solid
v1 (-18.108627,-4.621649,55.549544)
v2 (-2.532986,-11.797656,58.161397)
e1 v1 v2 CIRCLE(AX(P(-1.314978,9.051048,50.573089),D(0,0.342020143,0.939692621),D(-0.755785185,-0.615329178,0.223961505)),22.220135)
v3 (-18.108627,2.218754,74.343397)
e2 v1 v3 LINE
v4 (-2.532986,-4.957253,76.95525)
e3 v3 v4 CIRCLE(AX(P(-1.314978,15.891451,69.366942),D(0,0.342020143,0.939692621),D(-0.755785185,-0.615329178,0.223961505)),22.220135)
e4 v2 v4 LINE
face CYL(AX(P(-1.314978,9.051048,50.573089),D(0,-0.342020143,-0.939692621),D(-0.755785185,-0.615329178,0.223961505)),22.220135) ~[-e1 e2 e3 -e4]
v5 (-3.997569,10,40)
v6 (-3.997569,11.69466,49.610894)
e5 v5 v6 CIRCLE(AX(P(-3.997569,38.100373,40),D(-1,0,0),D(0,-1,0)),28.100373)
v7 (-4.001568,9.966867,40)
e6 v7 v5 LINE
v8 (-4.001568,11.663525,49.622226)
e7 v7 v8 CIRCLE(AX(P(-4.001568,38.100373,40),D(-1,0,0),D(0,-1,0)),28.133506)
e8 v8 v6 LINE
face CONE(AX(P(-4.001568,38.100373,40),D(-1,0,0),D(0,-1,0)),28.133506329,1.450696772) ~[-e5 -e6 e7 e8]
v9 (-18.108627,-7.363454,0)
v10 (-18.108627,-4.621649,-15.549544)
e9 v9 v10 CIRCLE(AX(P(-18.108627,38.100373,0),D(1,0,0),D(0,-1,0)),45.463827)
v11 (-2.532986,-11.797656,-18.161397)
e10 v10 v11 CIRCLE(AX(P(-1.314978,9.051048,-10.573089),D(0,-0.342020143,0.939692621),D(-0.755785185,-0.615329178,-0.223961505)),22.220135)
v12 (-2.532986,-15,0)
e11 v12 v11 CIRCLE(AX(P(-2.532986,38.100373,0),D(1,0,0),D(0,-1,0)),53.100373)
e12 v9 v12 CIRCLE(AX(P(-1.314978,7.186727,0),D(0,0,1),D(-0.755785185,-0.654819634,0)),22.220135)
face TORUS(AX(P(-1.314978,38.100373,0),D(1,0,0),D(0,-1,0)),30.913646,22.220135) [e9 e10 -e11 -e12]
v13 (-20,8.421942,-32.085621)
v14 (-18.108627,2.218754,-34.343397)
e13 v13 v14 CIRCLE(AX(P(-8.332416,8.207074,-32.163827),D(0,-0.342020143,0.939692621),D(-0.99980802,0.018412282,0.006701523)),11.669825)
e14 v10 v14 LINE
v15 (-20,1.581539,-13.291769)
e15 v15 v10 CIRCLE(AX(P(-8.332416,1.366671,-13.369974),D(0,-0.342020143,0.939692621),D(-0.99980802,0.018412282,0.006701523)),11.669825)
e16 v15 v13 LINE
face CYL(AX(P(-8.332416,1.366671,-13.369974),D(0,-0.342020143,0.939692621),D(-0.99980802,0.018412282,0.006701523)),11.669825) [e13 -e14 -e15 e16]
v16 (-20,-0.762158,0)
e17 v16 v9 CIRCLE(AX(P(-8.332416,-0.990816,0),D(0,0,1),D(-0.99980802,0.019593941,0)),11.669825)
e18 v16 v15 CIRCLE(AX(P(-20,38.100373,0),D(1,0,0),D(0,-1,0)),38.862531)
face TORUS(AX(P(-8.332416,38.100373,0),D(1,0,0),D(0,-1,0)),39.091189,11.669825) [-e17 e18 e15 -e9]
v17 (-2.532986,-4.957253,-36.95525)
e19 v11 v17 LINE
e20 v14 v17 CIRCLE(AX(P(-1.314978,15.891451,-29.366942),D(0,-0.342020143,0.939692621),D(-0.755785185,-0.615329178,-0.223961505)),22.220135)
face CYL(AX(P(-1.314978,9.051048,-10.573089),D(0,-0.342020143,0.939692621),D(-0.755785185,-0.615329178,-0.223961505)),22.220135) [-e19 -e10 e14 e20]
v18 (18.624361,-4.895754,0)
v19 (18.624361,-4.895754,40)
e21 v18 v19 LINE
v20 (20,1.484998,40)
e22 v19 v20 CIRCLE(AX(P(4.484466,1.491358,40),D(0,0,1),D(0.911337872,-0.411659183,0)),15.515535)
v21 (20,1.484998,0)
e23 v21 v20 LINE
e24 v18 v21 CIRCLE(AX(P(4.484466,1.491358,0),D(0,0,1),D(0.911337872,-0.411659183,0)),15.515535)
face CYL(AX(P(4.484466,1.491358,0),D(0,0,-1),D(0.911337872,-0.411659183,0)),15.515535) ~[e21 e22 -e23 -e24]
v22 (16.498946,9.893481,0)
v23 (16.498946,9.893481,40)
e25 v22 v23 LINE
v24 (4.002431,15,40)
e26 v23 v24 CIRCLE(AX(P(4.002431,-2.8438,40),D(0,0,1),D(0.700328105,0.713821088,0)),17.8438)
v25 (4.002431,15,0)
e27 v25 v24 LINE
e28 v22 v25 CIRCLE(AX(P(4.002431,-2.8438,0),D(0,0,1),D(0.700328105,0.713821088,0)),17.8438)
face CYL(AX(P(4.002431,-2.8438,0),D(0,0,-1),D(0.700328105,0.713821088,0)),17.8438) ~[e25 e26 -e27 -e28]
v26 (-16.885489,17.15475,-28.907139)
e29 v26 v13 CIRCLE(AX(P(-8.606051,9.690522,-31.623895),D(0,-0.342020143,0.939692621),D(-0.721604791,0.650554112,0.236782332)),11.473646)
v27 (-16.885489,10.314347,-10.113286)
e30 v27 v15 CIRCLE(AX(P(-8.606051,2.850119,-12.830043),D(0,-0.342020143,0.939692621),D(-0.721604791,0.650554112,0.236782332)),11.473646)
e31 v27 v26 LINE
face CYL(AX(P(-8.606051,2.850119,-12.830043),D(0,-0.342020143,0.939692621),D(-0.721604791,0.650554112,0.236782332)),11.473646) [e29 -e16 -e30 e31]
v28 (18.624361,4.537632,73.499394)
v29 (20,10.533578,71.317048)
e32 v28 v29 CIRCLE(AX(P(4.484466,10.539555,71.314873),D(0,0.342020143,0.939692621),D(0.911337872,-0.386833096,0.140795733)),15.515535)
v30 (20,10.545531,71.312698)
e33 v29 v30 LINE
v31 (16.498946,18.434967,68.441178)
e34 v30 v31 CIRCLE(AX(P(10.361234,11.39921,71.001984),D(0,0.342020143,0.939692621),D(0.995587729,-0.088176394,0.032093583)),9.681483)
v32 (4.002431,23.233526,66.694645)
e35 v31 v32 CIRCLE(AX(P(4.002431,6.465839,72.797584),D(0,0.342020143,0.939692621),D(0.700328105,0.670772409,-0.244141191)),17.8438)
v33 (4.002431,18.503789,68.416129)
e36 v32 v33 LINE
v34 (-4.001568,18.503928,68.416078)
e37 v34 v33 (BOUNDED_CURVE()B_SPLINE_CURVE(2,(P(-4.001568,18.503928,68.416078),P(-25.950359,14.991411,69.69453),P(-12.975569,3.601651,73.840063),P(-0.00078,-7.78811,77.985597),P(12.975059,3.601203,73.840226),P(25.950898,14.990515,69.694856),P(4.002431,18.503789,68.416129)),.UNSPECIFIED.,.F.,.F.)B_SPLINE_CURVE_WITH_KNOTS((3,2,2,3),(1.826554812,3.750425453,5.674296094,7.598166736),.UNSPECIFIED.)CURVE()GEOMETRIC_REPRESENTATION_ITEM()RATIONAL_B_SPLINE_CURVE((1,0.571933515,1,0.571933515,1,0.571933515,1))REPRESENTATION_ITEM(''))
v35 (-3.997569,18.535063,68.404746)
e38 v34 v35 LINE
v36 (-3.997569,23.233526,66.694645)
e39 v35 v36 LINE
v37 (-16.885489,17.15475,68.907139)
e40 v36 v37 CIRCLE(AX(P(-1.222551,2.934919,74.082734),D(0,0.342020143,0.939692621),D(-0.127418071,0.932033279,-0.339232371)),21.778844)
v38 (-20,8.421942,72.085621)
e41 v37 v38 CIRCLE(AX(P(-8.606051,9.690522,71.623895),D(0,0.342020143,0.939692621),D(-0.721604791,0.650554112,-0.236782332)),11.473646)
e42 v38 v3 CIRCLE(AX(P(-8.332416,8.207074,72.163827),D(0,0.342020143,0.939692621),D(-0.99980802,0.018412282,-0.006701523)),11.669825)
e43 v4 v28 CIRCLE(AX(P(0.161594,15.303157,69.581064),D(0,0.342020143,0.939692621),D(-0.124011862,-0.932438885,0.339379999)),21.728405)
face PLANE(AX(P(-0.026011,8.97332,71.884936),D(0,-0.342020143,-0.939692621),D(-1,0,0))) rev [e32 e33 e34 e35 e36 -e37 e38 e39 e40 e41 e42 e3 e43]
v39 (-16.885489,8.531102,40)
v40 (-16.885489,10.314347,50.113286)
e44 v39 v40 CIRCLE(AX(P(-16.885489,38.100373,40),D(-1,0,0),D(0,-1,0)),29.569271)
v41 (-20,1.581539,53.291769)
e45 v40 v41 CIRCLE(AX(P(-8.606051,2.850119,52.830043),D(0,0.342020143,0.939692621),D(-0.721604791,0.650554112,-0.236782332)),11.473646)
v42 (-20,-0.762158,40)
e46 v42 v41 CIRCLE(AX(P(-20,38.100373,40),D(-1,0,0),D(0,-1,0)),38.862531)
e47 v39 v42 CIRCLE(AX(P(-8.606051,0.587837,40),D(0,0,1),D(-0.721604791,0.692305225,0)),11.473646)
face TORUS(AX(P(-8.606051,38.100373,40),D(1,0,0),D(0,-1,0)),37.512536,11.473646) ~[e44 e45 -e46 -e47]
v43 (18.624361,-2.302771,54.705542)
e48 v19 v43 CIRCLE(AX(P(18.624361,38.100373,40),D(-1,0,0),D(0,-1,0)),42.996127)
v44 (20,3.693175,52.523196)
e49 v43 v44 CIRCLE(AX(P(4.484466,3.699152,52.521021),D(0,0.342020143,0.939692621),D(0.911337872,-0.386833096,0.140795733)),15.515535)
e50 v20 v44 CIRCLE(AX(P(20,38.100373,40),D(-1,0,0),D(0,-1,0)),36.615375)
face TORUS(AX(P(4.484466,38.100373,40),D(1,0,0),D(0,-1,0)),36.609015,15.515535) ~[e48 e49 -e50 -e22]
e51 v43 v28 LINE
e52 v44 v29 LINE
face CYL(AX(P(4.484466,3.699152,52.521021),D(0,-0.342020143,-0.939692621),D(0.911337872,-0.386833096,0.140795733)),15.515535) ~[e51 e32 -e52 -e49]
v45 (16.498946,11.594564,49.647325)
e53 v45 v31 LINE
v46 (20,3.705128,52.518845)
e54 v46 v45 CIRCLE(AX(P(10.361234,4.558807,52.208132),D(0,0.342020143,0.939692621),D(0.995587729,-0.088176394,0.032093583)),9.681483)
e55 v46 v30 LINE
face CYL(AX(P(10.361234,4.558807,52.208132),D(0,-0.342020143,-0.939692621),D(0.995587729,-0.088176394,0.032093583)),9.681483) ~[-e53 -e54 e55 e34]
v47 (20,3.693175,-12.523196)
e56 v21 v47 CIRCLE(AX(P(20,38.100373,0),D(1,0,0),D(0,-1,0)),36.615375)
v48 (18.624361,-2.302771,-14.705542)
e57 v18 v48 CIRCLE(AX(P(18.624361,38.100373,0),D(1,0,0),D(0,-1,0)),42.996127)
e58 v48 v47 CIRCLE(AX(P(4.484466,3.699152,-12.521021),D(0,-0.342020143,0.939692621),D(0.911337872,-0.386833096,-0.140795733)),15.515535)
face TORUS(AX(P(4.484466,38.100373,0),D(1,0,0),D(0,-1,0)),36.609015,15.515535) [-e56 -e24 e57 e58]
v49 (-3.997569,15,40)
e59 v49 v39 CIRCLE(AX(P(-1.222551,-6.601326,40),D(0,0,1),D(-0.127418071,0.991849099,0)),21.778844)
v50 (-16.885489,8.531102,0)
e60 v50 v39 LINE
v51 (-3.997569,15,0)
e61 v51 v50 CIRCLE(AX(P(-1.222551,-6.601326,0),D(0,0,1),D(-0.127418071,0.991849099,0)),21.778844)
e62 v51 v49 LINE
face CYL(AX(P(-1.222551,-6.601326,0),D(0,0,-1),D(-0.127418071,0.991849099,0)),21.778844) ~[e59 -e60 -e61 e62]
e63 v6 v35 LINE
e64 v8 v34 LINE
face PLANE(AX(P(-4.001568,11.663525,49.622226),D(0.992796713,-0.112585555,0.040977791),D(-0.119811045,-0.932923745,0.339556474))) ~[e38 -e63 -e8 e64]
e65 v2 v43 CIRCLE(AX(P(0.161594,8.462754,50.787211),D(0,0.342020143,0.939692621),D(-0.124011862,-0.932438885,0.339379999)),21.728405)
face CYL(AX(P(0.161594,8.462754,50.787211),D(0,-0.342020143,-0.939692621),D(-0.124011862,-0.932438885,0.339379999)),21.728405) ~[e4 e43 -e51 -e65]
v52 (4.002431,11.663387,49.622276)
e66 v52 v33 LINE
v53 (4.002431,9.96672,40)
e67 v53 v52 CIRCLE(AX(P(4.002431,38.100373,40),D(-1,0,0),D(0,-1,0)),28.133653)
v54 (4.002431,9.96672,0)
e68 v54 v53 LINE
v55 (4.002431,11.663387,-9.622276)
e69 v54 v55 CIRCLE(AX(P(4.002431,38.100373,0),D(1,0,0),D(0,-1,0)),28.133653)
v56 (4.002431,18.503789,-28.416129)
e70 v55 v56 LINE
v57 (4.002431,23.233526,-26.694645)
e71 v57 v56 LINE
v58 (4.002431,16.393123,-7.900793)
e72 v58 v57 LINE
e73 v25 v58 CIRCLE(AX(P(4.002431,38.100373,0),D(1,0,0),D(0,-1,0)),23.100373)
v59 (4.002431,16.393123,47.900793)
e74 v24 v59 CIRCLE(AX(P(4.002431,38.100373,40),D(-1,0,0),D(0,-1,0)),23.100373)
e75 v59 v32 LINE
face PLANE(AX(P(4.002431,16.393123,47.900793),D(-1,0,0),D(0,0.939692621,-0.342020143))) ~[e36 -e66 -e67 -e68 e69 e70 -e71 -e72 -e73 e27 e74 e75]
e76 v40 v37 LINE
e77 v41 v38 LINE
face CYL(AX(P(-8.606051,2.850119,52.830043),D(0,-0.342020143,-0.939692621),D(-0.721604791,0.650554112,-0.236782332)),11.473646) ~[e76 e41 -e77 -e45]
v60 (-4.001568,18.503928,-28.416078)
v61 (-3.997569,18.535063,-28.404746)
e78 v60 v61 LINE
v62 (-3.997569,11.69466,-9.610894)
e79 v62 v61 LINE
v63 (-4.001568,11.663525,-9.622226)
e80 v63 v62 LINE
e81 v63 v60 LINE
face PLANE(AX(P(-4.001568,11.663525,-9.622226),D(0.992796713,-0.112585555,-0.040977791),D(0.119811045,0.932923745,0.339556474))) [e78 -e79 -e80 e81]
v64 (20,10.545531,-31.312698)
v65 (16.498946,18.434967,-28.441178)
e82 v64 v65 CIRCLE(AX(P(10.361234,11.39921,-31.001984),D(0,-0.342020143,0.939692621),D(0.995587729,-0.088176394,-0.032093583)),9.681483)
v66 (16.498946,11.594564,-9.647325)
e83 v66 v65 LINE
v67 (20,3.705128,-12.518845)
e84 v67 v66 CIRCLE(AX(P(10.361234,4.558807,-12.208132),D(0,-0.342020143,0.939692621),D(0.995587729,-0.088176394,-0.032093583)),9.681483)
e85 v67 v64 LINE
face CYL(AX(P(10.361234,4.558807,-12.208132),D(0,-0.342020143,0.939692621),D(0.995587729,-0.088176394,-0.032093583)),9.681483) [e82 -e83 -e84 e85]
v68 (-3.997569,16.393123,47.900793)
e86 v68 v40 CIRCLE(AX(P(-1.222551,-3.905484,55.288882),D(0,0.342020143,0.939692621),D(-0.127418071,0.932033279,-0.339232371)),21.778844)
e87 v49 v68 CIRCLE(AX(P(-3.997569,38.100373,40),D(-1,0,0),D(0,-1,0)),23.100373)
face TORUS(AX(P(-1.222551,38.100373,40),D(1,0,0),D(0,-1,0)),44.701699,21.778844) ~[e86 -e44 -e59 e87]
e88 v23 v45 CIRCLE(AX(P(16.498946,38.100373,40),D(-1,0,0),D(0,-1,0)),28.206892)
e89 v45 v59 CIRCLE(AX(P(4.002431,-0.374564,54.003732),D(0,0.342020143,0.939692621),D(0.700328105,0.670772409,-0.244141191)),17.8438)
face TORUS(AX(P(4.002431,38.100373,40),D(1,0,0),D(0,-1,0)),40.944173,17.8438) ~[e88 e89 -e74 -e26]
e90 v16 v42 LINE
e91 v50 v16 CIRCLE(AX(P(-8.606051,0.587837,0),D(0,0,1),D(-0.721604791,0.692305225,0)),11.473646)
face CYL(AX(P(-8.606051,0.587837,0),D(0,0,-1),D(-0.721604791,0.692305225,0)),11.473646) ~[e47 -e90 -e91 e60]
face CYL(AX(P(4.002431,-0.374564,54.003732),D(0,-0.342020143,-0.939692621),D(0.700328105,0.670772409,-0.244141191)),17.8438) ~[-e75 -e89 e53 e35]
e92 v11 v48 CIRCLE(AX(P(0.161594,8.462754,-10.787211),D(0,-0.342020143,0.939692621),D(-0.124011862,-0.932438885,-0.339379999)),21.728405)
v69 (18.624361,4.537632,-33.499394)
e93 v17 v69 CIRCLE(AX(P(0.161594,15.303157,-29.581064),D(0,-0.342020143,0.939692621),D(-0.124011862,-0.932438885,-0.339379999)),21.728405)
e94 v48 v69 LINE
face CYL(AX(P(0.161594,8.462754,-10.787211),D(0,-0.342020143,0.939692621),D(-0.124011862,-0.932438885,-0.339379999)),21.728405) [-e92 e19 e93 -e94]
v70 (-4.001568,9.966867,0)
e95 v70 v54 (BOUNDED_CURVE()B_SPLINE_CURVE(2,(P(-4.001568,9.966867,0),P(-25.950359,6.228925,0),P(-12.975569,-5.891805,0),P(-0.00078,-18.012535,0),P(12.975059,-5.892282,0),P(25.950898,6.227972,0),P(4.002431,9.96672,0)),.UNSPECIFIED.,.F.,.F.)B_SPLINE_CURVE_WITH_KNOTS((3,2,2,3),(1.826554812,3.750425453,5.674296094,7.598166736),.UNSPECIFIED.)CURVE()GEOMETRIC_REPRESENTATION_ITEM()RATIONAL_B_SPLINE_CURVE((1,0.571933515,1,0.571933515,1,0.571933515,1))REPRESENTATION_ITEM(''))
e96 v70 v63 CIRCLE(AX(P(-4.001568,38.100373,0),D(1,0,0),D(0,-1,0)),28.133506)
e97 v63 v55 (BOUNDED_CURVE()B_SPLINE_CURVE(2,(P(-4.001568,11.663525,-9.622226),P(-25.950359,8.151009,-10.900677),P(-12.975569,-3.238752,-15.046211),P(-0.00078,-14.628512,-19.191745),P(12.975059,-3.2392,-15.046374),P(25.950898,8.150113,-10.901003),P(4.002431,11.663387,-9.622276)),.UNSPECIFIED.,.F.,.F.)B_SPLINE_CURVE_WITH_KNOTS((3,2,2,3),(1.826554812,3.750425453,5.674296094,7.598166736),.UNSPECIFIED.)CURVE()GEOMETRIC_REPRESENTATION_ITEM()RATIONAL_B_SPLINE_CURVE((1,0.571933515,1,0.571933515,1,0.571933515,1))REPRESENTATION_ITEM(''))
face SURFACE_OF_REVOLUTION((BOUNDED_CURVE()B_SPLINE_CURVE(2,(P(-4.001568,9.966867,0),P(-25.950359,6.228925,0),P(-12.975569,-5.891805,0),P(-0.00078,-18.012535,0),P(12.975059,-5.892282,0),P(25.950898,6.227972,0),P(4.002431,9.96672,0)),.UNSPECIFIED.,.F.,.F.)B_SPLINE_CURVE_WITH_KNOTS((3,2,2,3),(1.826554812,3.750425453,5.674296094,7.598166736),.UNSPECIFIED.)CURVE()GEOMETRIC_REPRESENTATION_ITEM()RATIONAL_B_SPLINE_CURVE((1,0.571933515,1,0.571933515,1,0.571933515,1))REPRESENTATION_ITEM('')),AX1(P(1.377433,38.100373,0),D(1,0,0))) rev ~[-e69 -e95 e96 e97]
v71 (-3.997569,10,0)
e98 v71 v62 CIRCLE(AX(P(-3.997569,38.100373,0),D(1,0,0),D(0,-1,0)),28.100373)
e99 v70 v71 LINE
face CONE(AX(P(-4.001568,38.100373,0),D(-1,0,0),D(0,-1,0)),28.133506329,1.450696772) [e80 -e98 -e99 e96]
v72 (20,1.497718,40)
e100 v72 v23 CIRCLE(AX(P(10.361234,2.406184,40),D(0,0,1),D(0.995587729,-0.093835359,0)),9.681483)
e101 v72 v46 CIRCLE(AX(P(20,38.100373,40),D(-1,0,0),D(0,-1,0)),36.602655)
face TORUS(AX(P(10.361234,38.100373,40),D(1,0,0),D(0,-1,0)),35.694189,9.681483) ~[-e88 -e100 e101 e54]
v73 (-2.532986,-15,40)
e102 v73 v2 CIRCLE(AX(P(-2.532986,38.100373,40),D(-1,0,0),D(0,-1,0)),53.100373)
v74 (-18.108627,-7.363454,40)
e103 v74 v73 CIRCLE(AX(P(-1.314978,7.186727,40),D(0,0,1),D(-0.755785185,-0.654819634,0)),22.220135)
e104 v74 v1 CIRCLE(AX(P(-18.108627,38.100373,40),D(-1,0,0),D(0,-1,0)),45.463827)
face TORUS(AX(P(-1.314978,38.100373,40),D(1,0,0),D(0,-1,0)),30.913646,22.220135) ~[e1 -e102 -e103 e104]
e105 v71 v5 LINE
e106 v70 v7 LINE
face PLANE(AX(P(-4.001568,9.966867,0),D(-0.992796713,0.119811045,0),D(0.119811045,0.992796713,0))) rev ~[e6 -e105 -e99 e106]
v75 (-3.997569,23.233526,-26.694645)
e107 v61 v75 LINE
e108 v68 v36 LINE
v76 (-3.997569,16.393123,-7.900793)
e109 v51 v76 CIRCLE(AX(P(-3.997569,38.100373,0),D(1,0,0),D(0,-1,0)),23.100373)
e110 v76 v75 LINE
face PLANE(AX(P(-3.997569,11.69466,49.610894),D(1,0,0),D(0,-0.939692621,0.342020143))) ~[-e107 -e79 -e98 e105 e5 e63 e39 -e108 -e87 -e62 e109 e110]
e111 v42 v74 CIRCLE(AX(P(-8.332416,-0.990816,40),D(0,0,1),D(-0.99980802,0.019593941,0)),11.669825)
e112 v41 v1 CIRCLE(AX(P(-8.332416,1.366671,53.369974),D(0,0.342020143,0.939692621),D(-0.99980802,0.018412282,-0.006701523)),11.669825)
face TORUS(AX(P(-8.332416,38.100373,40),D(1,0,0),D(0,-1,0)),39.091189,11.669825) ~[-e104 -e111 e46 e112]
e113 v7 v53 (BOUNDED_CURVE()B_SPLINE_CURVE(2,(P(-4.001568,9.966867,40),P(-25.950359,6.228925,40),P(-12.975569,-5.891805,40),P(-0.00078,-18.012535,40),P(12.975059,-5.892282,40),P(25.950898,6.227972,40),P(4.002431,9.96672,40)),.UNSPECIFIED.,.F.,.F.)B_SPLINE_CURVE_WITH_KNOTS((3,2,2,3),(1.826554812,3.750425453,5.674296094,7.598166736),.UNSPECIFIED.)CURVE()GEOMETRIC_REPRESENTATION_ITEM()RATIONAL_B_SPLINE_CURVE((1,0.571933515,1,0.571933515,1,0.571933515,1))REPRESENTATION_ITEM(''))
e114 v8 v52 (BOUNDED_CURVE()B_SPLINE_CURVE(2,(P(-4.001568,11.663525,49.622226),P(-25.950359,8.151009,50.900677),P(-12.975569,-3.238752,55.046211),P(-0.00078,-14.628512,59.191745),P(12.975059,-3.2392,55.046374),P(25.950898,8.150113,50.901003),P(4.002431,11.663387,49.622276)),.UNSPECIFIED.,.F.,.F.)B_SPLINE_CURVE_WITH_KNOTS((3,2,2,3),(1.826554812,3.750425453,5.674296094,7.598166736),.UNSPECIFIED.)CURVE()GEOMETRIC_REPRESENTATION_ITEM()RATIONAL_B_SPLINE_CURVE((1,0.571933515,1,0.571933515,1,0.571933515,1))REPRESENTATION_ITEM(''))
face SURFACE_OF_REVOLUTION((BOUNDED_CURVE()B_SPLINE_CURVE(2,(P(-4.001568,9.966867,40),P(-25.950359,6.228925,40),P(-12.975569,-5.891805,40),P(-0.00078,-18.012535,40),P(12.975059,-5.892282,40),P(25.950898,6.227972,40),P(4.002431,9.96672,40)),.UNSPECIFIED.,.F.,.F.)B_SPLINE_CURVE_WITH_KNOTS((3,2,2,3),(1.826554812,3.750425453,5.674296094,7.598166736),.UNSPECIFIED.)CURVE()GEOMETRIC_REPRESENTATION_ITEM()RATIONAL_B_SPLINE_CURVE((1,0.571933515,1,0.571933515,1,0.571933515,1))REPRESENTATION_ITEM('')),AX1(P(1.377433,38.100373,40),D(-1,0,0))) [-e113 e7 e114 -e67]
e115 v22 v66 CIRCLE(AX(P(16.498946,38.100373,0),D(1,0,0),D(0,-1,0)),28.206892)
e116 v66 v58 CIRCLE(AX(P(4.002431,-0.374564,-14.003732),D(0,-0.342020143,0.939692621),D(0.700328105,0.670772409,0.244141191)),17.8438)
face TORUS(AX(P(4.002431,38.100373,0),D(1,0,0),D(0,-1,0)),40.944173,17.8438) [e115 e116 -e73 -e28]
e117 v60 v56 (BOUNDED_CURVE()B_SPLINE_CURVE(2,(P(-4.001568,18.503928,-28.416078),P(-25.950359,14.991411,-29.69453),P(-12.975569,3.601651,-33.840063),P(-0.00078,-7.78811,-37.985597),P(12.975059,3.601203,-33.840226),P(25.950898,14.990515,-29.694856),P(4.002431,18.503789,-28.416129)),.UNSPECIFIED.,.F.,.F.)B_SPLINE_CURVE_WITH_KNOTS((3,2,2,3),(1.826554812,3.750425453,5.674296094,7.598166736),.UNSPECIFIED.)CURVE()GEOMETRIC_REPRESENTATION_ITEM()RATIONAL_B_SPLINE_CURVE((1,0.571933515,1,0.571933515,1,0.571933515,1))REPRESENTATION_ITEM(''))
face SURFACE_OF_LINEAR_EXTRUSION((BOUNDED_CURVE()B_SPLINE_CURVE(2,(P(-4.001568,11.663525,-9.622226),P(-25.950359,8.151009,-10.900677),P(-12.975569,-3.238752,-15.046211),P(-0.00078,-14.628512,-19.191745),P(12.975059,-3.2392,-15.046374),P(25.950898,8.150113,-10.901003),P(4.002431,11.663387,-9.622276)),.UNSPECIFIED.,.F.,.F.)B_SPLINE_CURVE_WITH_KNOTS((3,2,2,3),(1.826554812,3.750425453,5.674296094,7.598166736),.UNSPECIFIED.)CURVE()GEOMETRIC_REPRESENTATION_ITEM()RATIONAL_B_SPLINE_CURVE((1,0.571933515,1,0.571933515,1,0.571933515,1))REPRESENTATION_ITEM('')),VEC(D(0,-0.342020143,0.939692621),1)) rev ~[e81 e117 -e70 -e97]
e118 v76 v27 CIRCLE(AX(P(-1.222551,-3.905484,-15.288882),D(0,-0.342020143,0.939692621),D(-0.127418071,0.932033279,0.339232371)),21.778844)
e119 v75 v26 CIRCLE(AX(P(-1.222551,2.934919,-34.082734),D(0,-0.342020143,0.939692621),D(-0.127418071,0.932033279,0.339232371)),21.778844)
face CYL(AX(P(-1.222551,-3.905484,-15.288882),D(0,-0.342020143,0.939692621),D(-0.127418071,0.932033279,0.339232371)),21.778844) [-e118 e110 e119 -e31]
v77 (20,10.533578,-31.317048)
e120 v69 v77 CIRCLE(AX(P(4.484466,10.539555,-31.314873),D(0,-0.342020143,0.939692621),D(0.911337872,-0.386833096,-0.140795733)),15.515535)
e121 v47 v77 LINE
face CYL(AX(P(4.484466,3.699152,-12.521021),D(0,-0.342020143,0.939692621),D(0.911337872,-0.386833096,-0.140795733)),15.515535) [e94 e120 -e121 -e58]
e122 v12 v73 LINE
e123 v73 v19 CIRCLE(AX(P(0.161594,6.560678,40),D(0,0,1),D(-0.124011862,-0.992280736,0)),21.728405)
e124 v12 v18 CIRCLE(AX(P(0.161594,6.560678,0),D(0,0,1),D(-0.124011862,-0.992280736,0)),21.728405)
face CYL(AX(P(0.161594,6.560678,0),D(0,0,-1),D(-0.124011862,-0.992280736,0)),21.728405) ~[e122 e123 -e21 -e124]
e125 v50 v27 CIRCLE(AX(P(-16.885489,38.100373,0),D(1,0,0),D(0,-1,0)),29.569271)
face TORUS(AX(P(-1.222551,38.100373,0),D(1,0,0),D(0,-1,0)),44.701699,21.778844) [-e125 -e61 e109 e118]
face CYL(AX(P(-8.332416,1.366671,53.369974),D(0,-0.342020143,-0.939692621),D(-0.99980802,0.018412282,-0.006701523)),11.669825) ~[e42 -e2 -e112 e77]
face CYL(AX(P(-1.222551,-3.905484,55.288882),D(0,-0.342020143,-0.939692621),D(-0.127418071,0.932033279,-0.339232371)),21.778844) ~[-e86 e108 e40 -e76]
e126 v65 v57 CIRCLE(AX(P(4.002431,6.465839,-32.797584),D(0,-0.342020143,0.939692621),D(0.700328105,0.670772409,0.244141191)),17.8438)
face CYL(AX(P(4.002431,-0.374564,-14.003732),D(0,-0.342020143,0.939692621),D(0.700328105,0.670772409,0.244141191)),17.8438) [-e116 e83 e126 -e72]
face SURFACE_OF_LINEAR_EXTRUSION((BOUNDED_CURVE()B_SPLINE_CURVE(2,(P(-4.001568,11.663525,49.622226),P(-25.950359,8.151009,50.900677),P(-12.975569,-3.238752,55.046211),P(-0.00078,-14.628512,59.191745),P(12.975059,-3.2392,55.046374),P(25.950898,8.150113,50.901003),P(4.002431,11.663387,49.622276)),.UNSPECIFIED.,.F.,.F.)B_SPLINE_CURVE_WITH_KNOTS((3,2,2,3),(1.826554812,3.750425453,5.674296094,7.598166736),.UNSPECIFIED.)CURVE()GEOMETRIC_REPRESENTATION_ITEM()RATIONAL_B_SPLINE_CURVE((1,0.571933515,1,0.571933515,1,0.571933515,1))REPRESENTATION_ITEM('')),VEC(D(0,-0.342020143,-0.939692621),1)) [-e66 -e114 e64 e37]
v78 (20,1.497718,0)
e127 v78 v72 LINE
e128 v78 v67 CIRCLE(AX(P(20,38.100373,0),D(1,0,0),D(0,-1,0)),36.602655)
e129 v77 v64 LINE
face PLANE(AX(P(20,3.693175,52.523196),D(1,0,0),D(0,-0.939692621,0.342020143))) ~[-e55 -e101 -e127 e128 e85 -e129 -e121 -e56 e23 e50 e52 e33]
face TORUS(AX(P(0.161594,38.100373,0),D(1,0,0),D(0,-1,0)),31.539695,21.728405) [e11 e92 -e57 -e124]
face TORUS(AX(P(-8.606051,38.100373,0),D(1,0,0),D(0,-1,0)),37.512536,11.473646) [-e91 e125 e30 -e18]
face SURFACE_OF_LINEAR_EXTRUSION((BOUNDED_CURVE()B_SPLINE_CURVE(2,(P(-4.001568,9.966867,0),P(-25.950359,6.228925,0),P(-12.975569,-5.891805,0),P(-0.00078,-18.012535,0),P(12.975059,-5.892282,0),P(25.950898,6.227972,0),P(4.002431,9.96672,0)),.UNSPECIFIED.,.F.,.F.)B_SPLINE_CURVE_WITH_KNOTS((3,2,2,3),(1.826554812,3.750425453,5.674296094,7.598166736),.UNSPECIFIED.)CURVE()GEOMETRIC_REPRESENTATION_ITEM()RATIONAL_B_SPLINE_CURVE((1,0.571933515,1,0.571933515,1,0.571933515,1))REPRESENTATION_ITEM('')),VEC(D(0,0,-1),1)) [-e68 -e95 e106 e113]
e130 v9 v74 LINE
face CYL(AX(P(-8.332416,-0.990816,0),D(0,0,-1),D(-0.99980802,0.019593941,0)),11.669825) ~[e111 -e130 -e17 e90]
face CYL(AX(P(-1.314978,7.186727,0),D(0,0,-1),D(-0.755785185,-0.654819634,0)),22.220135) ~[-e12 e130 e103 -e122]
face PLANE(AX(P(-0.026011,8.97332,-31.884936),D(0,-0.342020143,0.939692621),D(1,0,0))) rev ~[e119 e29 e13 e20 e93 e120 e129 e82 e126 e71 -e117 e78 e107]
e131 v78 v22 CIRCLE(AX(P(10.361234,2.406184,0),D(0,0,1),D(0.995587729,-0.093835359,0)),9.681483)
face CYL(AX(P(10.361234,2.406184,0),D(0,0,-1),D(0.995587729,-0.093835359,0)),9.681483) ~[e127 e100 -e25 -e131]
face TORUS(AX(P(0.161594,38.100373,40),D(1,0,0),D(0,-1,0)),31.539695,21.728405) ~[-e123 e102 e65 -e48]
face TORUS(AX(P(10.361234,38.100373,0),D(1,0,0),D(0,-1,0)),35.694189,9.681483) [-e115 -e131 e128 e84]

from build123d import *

# Parameters (mm, degrees)
F1_ANGLE = 20
F2_DEPTH = 40
F3_DEPTH = 20


with BuildPart() as f1:
    # F0 (on Top) → F1 (revolve)
    with BuildSketch(Plane.XY):
        with BuildLine():
            Line((20, 1.4849976709), (20, 1.4977182727))
            ThreePointArc((20, 1.4977182727), (19.2969219024, 6.1323884173), (16.4989456534, 9.8934806883))
            ThreePointArc((16.4989456534, 9.8934806883), (10.7522349915, 13.6741097893), (4.0024309217, 15))
            Line((4.0024309217, 15), (4.0024309217, 10))
            Line((4.0024309217, 10), (4.0024309217, 9.9667196315))
            add(Edge.make_bspline(
                [(-4.0015676197, 9.9668666712), (-25.9503586902, 6.2289250722), (-12.9755693968, -5.8918049089), (-0.0007801033, -18.0125348901), (12.9750590408, -5.8922816423), (25.9508981849, 6.2279716054), (4.0024309217, 9.9667196315)],
                knots=[1.8265548118, 1.8265548118, 1.8265548118, 3.750425453, 3.750425453, 5.6742960943, 5.6742960943, 7.5981667356, 7.5981667356, 7.5981667356], degree=2, weights=[1, 0.5719335147, 1, 0.5719335147, 1, 0.5719335147, 1]))
            Line((-4.0015676197, 9.9668666712), (-3.9975690783, 10))
            Line((-3.9975690783, 10), (-3.9975690783, 15))
            ThreePointArc((-3.9975690783, 15), (-10.9924649402, 12.8631747927), (-16.8854892254, 8.5311019793))
            ThreePointArc((-16.8854892254, 8.5311019793), (-19.4850083936, 4.2337723837), (-20, -0.7621584809))
            ThreePointArc((-20, -0.7621584809), (-19.5508542915, -4.205072639), (-18.1086268276, -7.3634535074))
            ThreePointArc((-18.1086268276, -7.3634535074), (-11.096805602, -12.7644695157), (-2.5329855271, -15))
            ThreePointArc((-2.5329855271, -15), (9.5255077055, -13.0464820276), (18.6243609734, -4.8957544086))
            ThreePointArc((18.6243609734, -4.8957544086), (19.6515229493, -1.778537885), (20, 1.4849976709))
        make_face()
    revolve(axis=Axis((1.3774326071, 38.100373, 0), (1, 0, 0)), revolution_arc=F1_ANGLE)

    # F2 (add): a face of the model
    f2_faces = [f1.faces().sort_by_distance(p)[0] for p in [
        (9.3091754971, -12.5935025892, 0),
    ]]
    extrude(f2_faces, amount=F2_DEPTH)

    # F3 (add): a face of the model
    f3_faces = [f1.faces().sort_by_distance(p)[0] for p in [
        (9.3091754969, -9.53628781, -17.3383265947),
    ]]
    extrude(f3_faces, amount=F3_DEPTH)

    # F5: F1 across plane


with BuildPart() as f1_1:
    add(f1.part)
    add(f1.part.mirror(Plane.XY.offset(20)))


solid = f1_1.part
